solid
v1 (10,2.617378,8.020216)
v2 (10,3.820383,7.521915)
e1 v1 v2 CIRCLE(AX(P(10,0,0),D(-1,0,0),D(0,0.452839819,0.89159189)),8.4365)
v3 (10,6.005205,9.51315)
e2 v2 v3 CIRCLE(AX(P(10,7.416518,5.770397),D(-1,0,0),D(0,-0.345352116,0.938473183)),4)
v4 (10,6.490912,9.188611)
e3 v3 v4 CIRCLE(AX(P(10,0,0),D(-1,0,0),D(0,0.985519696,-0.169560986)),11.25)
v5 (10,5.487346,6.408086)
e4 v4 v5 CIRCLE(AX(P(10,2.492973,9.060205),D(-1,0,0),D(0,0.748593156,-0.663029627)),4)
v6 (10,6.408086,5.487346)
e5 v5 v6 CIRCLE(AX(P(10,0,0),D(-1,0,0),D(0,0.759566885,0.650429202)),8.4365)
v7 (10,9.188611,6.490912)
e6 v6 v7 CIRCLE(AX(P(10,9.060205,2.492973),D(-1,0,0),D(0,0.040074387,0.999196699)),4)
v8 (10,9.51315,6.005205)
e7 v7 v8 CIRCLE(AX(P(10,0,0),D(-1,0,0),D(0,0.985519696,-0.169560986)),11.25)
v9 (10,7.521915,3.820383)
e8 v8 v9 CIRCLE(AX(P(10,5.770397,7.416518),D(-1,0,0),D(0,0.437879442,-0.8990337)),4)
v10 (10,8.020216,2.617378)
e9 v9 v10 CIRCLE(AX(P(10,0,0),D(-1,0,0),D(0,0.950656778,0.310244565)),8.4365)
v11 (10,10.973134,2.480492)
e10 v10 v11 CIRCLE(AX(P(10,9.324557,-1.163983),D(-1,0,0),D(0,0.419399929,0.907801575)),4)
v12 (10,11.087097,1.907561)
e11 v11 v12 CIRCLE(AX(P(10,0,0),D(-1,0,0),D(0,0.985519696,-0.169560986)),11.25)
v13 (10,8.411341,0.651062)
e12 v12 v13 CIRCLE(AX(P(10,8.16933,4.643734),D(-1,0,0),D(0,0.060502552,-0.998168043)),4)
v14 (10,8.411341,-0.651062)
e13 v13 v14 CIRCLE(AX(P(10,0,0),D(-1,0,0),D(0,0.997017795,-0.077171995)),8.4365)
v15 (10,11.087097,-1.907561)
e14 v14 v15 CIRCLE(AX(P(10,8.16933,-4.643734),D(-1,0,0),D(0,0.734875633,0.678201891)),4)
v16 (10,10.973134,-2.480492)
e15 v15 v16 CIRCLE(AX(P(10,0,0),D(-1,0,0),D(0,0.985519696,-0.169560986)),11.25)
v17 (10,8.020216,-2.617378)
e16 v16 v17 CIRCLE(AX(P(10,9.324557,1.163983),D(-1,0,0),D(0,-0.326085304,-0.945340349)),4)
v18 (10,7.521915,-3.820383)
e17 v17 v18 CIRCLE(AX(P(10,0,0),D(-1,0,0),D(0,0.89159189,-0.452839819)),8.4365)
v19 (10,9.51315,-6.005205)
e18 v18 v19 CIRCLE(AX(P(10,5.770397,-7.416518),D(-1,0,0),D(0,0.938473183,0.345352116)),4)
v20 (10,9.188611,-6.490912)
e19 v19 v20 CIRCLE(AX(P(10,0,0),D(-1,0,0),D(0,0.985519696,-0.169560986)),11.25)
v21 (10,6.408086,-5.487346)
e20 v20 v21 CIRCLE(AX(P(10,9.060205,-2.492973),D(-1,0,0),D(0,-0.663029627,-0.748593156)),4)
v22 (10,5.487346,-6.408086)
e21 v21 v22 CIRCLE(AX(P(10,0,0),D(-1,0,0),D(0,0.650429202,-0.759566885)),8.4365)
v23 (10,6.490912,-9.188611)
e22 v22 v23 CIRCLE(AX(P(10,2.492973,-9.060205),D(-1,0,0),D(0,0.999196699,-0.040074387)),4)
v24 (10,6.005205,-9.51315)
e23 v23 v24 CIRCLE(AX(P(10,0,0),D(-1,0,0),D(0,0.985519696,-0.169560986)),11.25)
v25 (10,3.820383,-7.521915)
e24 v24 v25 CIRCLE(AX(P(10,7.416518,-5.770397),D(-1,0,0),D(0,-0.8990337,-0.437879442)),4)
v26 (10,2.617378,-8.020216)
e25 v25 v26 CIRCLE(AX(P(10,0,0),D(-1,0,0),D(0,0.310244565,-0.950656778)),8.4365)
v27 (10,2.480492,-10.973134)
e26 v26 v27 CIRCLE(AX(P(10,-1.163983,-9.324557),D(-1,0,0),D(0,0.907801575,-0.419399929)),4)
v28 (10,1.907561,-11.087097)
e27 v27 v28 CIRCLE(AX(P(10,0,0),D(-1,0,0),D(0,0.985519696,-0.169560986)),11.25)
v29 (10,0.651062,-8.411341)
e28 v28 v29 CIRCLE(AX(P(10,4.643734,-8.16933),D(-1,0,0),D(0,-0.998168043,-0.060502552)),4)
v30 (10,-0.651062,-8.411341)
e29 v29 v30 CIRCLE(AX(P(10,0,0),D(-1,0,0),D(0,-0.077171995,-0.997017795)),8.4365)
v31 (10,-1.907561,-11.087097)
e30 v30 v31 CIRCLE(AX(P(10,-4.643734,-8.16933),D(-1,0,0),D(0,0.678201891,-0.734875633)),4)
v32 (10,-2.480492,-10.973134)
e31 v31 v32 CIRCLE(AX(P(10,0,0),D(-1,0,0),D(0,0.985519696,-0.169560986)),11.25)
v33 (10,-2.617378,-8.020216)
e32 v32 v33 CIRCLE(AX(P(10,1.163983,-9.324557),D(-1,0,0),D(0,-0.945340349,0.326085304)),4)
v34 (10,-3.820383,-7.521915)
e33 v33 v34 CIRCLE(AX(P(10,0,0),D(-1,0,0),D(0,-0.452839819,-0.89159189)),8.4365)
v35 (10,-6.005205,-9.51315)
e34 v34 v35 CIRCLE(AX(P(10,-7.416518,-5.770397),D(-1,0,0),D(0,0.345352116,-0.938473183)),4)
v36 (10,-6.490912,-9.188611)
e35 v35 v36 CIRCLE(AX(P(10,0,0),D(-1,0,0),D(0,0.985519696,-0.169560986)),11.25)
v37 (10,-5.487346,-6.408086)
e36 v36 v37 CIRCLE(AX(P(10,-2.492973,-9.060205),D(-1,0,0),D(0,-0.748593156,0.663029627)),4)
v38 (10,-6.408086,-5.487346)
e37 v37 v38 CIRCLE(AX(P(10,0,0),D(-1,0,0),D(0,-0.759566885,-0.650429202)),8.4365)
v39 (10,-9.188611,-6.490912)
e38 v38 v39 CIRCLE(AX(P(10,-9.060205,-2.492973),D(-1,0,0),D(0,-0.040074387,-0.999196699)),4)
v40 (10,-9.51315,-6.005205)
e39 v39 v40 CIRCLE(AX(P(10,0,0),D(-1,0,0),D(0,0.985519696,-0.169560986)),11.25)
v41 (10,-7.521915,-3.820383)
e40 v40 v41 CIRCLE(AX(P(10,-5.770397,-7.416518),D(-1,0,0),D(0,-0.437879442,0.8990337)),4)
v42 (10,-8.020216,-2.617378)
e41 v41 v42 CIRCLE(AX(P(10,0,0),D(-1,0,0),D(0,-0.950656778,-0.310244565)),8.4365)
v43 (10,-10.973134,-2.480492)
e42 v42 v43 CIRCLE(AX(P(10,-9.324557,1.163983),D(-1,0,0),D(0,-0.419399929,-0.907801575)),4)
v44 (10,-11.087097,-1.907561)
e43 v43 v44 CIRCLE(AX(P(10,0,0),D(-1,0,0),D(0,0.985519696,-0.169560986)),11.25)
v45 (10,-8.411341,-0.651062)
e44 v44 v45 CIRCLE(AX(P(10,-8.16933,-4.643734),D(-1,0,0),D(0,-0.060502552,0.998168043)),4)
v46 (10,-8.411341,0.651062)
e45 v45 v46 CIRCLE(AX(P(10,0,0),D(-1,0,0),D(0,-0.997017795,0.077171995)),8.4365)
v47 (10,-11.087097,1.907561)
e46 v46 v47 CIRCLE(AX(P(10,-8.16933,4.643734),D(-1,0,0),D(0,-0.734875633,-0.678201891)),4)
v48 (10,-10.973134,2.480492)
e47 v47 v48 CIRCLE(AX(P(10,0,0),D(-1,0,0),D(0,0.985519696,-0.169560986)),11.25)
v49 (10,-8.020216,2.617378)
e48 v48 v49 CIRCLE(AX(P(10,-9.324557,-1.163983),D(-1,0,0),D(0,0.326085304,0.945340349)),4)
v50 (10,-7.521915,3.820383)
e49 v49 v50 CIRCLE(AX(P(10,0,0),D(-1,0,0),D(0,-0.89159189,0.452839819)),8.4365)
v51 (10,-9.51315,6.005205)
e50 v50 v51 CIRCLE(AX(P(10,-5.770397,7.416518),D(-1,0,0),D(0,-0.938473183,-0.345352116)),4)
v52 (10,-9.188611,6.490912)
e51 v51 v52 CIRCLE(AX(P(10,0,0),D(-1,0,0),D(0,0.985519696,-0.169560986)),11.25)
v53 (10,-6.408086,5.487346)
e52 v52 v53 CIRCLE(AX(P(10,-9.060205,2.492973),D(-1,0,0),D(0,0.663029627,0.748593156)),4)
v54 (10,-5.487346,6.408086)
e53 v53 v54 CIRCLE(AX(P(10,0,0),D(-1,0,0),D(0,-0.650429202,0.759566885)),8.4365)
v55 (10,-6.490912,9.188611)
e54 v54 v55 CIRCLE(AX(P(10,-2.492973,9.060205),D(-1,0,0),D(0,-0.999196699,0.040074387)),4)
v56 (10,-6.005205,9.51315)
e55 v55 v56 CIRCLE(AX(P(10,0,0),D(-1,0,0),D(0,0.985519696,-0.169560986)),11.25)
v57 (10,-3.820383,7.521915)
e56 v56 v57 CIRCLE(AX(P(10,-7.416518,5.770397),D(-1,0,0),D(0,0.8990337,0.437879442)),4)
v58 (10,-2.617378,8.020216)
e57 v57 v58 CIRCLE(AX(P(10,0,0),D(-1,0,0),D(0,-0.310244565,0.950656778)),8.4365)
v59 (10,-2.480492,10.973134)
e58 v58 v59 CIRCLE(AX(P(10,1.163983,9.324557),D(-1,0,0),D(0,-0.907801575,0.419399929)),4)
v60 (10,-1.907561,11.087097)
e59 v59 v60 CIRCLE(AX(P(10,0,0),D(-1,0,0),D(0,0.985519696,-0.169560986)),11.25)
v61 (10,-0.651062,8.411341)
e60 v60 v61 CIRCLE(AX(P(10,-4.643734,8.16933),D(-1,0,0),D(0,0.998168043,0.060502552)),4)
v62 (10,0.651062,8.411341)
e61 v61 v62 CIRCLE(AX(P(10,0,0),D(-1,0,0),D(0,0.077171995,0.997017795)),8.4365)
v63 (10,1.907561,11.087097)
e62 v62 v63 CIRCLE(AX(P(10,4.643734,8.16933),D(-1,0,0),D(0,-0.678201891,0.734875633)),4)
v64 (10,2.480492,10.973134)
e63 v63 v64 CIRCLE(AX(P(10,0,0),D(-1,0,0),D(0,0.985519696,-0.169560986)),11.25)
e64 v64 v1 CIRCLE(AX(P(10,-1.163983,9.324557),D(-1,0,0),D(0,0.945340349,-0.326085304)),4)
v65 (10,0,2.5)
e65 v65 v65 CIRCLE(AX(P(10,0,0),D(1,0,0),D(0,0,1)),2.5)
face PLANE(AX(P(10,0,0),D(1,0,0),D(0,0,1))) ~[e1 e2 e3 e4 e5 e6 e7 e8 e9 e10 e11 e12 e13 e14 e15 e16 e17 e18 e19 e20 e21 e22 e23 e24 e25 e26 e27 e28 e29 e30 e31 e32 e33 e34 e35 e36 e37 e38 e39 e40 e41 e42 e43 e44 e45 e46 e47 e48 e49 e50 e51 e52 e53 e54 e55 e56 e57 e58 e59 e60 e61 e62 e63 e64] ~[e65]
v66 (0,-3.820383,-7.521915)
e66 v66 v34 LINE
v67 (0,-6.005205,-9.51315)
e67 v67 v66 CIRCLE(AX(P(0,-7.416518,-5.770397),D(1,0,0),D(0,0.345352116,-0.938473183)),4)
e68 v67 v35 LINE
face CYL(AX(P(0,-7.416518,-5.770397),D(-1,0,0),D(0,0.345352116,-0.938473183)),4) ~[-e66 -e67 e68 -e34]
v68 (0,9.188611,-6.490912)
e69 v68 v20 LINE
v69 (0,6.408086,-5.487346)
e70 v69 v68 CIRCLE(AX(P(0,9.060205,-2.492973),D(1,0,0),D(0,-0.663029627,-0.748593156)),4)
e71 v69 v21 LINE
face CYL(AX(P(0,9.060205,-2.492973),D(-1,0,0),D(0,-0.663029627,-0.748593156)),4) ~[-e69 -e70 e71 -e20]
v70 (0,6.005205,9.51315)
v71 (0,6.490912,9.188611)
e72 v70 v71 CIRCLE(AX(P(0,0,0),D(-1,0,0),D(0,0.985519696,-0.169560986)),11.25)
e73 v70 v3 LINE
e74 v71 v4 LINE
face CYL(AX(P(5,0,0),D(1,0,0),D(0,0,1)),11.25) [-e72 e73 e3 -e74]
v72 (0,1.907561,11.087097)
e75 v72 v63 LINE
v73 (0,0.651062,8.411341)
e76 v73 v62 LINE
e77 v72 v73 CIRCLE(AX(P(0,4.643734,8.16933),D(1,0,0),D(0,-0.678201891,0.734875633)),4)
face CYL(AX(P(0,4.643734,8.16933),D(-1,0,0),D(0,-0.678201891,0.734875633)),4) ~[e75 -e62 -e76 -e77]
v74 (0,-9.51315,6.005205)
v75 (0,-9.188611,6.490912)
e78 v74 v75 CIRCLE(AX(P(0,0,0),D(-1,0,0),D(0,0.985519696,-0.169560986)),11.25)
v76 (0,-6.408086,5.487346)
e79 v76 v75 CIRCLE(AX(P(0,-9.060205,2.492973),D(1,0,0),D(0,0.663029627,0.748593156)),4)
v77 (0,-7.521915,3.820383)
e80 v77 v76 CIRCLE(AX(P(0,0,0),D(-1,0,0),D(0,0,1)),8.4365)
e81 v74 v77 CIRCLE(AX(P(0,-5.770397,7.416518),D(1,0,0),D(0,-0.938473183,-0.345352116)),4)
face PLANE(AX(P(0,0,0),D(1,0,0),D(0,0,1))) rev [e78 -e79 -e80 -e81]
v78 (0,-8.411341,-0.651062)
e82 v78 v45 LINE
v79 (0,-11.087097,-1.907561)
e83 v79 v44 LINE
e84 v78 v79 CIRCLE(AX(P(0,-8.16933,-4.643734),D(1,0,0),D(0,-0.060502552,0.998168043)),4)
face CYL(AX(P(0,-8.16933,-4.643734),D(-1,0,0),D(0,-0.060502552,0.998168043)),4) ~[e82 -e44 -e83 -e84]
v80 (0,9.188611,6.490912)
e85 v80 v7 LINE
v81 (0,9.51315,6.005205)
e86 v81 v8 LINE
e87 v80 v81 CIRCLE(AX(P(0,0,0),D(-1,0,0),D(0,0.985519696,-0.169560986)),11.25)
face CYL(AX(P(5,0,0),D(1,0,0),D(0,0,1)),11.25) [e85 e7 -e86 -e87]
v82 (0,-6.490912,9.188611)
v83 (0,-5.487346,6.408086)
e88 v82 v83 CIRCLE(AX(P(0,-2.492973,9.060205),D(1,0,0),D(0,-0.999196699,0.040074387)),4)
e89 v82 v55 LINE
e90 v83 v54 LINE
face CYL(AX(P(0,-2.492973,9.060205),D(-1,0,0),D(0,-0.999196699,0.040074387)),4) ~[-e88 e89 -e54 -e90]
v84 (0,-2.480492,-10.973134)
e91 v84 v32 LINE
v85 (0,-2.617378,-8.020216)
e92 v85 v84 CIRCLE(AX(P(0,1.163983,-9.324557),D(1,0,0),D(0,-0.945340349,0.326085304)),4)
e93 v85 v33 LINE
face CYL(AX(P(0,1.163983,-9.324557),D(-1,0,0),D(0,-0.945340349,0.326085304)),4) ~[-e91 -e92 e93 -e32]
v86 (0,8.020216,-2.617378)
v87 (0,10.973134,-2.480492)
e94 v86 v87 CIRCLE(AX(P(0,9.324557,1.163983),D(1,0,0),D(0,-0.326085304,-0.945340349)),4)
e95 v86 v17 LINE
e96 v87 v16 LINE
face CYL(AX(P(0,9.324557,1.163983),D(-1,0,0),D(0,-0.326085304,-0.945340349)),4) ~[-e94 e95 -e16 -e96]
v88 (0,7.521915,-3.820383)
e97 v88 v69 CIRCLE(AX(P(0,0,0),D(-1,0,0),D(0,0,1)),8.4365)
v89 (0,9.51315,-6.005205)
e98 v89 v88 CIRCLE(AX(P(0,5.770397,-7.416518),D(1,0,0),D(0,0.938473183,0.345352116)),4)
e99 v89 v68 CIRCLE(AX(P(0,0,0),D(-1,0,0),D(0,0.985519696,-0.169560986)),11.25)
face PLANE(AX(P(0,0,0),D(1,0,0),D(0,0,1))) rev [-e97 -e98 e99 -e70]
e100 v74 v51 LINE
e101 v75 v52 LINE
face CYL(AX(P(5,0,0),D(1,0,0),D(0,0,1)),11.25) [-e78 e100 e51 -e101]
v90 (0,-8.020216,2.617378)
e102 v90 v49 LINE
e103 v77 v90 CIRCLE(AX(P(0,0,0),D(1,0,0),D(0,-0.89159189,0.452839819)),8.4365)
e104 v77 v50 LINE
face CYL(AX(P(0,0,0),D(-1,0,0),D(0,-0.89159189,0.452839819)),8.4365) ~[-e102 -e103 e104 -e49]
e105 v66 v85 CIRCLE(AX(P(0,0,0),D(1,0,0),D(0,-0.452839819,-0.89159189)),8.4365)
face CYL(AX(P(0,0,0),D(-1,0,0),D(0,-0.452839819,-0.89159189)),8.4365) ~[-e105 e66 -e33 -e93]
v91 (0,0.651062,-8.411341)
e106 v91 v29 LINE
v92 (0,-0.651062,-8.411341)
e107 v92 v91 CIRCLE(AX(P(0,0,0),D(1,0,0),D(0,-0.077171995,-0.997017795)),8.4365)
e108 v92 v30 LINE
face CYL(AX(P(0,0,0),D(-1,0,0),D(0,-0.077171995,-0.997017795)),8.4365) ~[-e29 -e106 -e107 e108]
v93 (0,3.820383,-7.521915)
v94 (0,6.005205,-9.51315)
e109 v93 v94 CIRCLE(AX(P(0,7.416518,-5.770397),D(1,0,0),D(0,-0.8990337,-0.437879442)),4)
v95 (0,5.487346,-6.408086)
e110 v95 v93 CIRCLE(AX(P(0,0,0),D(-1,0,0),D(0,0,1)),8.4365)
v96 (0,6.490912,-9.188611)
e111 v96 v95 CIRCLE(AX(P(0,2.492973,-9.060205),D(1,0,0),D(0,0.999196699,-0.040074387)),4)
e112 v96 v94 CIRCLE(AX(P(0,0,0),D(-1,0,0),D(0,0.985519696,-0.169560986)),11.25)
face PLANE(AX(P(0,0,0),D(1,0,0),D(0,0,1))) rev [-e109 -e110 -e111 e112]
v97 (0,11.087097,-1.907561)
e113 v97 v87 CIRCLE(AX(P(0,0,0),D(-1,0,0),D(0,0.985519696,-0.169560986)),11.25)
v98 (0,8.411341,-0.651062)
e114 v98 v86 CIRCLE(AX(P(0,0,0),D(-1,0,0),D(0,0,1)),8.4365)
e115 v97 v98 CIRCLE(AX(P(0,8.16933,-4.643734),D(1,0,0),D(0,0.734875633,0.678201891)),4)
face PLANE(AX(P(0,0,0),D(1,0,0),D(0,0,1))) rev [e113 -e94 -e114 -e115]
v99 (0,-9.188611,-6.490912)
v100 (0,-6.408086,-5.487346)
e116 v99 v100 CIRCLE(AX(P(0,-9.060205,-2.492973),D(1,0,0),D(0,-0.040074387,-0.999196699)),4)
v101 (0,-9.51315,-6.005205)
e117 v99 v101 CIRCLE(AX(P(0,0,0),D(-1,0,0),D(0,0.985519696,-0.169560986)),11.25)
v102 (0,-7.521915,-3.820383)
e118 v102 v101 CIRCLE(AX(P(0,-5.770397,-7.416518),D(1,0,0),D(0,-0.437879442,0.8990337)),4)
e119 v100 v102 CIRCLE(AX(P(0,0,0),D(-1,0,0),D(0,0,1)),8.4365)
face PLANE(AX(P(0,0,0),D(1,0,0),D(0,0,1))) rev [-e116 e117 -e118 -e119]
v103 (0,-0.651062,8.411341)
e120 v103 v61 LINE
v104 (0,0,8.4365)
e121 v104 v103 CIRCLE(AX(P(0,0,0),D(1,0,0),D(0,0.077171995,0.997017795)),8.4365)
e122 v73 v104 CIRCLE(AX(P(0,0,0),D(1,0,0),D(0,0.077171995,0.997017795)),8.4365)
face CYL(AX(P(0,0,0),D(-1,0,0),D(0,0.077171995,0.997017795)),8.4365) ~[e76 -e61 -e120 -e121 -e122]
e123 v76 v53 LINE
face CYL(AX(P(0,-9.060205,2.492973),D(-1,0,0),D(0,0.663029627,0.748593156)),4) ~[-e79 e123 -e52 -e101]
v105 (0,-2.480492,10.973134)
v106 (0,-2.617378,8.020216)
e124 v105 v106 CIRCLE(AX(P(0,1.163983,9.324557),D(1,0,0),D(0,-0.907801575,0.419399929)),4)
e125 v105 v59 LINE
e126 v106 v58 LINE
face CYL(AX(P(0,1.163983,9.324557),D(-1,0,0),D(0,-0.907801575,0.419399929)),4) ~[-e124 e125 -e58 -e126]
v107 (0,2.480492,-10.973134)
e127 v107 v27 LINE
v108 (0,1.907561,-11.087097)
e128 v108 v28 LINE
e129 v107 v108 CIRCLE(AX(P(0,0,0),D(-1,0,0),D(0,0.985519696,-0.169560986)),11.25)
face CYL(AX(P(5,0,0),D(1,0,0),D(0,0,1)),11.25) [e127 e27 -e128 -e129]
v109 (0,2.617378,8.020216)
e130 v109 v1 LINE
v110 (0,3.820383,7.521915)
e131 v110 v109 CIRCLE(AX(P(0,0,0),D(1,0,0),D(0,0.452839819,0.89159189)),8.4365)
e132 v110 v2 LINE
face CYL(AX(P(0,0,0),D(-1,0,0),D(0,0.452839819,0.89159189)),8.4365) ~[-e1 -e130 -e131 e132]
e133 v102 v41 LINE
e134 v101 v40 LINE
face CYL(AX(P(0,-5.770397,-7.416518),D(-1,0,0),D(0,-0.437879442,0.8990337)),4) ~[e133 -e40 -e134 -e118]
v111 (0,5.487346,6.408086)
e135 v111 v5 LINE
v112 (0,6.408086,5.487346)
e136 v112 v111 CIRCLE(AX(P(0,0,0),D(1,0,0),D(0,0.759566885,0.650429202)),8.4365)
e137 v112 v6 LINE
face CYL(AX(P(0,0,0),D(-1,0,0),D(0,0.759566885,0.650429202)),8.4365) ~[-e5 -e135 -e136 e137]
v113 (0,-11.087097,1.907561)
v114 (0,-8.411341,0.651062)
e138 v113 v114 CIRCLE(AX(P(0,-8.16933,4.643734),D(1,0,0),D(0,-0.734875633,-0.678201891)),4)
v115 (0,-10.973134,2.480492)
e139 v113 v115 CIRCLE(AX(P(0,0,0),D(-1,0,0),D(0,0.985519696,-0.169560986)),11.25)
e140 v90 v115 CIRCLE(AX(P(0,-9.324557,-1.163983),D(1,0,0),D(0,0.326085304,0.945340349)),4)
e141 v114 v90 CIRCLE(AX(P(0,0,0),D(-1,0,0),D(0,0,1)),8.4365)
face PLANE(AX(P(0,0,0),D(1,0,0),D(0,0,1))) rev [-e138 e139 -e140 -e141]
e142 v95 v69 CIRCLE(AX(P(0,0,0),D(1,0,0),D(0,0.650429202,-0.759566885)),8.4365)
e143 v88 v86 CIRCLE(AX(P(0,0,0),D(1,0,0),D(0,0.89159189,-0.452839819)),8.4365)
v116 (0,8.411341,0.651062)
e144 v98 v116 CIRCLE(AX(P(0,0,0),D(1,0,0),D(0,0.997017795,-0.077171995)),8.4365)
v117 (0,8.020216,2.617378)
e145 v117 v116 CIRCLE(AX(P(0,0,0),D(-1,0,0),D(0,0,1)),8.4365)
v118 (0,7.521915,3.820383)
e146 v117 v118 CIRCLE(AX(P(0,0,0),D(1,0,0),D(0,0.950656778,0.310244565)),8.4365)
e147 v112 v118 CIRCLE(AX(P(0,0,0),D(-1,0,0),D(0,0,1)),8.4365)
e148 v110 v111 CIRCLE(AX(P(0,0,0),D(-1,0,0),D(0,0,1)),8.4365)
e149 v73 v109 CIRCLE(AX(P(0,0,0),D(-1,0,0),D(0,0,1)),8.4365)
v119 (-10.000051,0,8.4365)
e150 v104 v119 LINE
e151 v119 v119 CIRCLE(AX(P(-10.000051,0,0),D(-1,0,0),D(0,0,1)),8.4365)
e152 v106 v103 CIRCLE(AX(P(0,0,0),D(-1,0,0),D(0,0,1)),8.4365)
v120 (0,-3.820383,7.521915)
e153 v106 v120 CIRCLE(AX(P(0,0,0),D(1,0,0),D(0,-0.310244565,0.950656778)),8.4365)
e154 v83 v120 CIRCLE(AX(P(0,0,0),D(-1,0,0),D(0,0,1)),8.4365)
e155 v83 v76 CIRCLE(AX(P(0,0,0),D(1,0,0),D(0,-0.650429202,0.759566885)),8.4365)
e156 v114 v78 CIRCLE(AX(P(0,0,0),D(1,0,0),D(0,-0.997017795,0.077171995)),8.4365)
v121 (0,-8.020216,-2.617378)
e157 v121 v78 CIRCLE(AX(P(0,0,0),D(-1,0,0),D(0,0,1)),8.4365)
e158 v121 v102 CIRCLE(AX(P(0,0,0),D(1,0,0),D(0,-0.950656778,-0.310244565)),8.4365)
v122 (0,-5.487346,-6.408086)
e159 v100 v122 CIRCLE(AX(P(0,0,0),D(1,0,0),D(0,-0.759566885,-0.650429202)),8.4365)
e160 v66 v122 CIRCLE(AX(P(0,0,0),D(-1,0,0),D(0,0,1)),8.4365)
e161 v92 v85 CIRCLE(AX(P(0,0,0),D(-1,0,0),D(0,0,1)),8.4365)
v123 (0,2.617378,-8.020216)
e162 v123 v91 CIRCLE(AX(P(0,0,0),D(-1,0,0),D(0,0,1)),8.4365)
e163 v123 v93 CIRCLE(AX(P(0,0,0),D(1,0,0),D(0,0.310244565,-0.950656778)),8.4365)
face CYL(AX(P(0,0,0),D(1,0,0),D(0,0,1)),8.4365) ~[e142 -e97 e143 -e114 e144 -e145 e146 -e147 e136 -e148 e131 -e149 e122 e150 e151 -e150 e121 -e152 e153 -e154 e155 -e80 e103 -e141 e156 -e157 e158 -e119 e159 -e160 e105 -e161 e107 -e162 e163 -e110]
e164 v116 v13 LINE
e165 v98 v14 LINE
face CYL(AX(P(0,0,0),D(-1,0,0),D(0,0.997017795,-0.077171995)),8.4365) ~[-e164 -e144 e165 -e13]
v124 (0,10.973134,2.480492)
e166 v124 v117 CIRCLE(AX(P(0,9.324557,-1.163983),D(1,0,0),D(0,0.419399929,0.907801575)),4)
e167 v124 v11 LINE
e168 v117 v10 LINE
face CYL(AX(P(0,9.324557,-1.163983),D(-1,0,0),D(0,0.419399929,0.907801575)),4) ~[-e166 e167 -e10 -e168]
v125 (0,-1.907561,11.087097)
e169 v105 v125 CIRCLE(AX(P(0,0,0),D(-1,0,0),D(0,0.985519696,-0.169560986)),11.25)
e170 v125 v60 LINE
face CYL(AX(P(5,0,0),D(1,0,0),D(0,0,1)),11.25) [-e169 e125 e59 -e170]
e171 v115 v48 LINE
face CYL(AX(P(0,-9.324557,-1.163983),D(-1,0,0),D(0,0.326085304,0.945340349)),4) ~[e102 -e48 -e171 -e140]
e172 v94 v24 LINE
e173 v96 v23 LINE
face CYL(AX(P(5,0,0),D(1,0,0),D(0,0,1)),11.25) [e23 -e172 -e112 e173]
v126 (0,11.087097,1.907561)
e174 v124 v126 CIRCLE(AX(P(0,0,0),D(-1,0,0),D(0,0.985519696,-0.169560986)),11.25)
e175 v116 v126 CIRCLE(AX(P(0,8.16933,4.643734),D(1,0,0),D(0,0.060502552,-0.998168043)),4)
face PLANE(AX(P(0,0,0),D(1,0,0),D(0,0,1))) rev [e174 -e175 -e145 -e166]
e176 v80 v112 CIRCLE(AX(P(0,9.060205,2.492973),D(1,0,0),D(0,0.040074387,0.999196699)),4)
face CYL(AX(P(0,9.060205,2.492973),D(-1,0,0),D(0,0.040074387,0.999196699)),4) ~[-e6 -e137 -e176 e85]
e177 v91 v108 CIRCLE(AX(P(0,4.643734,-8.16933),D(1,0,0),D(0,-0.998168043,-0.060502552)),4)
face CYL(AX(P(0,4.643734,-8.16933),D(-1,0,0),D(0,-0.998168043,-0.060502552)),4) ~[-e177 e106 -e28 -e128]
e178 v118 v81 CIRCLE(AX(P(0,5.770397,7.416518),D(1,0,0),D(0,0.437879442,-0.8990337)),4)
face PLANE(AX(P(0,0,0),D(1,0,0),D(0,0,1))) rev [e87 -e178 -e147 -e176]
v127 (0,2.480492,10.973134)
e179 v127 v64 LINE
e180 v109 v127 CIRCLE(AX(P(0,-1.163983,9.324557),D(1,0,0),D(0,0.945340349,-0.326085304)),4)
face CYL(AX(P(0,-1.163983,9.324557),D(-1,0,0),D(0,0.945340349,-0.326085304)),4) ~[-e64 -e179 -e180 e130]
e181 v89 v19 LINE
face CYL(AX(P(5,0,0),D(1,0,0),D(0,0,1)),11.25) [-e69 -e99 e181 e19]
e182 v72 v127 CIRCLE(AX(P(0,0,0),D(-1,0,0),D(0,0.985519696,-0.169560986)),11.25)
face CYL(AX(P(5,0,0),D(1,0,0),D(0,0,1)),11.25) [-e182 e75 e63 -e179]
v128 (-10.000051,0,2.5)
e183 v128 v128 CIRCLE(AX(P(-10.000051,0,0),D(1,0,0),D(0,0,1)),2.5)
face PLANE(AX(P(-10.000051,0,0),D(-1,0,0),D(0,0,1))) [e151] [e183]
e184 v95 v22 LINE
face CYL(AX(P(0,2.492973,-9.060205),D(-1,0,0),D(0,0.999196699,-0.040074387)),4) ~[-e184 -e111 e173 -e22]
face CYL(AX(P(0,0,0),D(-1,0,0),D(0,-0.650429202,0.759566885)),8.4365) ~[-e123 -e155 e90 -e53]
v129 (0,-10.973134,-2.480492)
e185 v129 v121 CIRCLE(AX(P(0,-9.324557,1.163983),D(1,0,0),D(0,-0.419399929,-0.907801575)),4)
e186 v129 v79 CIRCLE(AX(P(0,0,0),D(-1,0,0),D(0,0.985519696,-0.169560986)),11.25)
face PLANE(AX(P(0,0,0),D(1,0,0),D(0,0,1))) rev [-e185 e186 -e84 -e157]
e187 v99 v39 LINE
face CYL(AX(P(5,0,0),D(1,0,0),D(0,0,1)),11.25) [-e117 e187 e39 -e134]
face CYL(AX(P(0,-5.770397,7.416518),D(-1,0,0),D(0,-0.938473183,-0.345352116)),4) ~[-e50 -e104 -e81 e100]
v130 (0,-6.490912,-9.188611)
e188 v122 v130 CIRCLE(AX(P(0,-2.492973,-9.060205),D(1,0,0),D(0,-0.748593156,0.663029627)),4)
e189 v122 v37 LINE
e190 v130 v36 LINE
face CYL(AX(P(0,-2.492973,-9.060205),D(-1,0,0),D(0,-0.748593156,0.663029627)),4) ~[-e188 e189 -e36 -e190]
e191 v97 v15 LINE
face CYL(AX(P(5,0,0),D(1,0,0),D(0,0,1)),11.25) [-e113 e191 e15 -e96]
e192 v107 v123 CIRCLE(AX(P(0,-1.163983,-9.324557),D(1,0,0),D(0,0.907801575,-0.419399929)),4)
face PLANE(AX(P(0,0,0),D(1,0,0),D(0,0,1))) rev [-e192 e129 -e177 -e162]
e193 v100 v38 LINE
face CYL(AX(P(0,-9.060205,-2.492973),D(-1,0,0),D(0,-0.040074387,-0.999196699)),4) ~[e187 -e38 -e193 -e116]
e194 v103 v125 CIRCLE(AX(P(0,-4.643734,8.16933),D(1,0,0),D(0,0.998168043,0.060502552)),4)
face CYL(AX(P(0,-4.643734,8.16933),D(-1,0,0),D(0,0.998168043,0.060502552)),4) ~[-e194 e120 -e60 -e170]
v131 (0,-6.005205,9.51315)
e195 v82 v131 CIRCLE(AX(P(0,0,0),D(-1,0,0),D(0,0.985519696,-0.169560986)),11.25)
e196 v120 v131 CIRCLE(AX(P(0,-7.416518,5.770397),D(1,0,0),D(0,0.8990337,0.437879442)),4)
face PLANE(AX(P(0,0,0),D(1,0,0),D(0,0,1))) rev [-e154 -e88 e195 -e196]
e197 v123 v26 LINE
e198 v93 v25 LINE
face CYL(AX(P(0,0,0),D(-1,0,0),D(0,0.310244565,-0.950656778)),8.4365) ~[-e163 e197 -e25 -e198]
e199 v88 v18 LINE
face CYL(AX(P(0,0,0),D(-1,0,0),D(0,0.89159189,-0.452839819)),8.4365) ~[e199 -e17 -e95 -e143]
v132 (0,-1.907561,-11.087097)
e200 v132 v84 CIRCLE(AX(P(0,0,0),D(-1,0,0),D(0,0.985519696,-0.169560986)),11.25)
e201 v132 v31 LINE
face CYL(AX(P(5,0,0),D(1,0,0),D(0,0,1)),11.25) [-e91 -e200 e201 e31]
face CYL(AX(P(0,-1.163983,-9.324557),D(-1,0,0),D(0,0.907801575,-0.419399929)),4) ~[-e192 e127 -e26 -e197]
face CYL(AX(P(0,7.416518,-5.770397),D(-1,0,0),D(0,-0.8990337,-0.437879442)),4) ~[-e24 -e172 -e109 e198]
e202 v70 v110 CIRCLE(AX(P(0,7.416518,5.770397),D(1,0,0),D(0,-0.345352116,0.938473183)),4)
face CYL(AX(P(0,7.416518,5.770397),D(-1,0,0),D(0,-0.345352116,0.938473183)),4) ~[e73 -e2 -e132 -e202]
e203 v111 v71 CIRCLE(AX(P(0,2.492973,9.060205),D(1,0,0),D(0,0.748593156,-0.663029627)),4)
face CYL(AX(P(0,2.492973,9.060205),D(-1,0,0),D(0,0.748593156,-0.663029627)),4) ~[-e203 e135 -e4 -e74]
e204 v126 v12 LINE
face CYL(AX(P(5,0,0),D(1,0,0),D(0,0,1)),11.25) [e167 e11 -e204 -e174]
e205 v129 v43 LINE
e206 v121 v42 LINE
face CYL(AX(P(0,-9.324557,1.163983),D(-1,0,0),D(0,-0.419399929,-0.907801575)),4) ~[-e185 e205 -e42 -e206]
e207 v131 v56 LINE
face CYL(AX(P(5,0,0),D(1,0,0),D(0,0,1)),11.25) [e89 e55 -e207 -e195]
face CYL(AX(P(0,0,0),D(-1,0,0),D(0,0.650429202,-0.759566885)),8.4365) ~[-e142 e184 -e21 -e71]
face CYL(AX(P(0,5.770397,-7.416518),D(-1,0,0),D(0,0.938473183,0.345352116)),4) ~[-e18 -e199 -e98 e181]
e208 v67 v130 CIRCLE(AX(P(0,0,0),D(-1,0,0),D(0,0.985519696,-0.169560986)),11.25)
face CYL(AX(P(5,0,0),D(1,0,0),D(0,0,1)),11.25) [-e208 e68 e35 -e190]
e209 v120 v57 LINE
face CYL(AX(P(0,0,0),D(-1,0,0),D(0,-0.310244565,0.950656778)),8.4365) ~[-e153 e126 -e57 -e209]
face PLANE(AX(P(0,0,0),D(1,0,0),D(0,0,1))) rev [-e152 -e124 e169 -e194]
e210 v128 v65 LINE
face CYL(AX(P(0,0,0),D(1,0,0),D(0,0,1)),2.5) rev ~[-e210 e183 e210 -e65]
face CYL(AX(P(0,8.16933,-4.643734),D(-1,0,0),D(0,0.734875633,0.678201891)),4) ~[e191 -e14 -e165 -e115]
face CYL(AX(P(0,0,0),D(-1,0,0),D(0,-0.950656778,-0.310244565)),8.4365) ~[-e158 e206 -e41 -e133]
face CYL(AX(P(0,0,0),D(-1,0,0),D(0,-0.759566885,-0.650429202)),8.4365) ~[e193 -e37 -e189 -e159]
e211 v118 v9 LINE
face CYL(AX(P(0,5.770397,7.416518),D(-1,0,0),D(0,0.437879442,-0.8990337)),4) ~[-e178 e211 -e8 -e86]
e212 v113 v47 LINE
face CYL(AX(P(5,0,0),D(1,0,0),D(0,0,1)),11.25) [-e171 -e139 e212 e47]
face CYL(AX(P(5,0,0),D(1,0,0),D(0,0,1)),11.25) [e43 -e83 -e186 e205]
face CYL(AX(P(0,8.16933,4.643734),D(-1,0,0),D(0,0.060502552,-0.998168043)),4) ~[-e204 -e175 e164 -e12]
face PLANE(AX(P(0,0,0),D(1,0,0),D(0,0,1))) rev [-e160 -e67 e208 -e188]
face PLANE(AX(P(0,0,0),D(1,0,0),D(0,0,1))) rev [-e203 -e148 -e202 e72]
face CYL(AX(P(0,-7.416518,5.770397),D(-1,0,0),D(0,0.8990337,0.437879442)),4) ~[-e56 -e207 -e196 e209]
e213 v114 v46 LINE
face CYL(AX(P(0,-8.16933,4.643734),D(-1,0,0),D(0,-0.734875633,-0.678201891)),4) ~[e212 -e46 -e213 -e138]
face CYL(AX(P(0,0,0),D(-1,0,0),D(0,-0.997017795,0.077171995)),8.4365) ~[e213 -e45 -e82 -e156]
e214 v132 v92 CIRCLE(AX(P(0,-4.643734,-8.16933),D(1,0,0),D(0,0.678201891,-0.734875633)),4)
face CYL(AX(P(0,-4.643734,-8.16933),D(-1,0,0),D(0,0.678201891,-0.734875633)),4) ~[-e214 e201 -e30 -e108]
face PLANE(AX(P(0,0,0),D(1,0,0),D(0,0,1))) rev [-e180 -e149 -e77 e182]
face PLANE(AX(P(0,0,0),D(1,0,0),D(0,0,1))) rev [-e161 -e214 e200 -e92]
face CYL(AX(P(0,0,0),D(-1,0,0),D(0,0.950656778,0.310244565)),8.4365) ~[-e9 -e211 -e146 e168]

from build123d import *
from build123d.topology import SkipClean

# Parameters (mm, degrees)
BASPROSKE_W      = 10
BASPROSKE_H      = 11.25
TOOTHCUT_DEPTH   = 19.791620473
TEETHCUTS_COUNT  = 16
TEETHCUTS_ANGLE  = 337.5
HUBNEAONESKE_R   = 8.4365
HUBNEARONE_DEPTH = 10.0000508
BORSKE_R         = 2.5
BORE_DEPTH       = 20.0000508


with BuildPart() as part:
    # BasProSke → Base-Revolve (revolve)
    with BuildSketch(Plane(origin=(0, 0, 0), x_dir=(1, 0, 0), z_dir=(0, 1, 0)), mode=Mode.PRIVATE) as base_revolve_sk:
        with Locations((5, 5.625)):
            Rectangle(BASPROSKE_W, BASPROSKE_H)
    revolve(base_revolve_sk.sketch.rotate(Axis((-10, 0, 0), (1, 0, 0)), 180), axis=Axis((-10, 0, 0), (1, 0, 0)))

    # TooCutSke → ToothCut (cut, through all)
    with BuildSketch(Plane(origin=(0, 0, 0), x_dir=(0, 0, -1), z_dir=(1, 0, 0))):
        with BuildLine():
            ThreePointArc((0.651061533, 8.411340626), (0, 8.4365), (-0.651061533, 8.411340626))
            ThreePointArc((-0.651061533, 8.411340626), (-1.029874156, 9.883978829), (-1.930926138, 11.108832945))
            ThreePointArc((-1.930926138, 11.108832945), (0, 11.2754), (1.930926138, 11.108832945))
            ThreePointArc((1.930926138, 11.108832945), (1.029874156, 9.883978829), (0.651061533, 8.411340626))
        make_face()
    toothcut = extrude(amount=TOOTHCUT_DEPTH, mode=Mode.SUBTRACT)

    # TeethCuts: ToothCut ×16 about axis
    teethcuts_axis = Axis((-10, 0, 0), (1, 0, 0))
    for i in range(1, TEETHCUTS_COUNT):
        add(toothcut.rotate(teethcuts_axis, i * TEETHCUTS_ANGLE / (TEETHCUTS_COUNT - 1)), mode=Mode.SUBTRACT)

    # HubNeaOneSke → HubNearOne (add)
    with SkipClean():  # the faces are left unmerged after this step: merging them gives an invalid solid
        with BuildSketch(Plane.ZY):
            Circle(HUBNEAONESKE_R)
        extrude(amount=HUBNEARONE_DEPTH)

    # BorSke → Bore (cut, symmetric)
    with SkipClean():  # the faces are left unmerged after this step: merging them gives an invalid solid
        with BuildSketch(Plane(origin=(0, 0, 0), x_dir=(0, 0, -1), z_dir=(1, 0, 0))):
            with Locations(Location((0, 0, 0), (0, 0, 180))):
                Circle(BORSKE_R)
        extrude(amount=BORE_DEPTH, both=True, mode=Mode.SUBTRACT)


solid = part.part
